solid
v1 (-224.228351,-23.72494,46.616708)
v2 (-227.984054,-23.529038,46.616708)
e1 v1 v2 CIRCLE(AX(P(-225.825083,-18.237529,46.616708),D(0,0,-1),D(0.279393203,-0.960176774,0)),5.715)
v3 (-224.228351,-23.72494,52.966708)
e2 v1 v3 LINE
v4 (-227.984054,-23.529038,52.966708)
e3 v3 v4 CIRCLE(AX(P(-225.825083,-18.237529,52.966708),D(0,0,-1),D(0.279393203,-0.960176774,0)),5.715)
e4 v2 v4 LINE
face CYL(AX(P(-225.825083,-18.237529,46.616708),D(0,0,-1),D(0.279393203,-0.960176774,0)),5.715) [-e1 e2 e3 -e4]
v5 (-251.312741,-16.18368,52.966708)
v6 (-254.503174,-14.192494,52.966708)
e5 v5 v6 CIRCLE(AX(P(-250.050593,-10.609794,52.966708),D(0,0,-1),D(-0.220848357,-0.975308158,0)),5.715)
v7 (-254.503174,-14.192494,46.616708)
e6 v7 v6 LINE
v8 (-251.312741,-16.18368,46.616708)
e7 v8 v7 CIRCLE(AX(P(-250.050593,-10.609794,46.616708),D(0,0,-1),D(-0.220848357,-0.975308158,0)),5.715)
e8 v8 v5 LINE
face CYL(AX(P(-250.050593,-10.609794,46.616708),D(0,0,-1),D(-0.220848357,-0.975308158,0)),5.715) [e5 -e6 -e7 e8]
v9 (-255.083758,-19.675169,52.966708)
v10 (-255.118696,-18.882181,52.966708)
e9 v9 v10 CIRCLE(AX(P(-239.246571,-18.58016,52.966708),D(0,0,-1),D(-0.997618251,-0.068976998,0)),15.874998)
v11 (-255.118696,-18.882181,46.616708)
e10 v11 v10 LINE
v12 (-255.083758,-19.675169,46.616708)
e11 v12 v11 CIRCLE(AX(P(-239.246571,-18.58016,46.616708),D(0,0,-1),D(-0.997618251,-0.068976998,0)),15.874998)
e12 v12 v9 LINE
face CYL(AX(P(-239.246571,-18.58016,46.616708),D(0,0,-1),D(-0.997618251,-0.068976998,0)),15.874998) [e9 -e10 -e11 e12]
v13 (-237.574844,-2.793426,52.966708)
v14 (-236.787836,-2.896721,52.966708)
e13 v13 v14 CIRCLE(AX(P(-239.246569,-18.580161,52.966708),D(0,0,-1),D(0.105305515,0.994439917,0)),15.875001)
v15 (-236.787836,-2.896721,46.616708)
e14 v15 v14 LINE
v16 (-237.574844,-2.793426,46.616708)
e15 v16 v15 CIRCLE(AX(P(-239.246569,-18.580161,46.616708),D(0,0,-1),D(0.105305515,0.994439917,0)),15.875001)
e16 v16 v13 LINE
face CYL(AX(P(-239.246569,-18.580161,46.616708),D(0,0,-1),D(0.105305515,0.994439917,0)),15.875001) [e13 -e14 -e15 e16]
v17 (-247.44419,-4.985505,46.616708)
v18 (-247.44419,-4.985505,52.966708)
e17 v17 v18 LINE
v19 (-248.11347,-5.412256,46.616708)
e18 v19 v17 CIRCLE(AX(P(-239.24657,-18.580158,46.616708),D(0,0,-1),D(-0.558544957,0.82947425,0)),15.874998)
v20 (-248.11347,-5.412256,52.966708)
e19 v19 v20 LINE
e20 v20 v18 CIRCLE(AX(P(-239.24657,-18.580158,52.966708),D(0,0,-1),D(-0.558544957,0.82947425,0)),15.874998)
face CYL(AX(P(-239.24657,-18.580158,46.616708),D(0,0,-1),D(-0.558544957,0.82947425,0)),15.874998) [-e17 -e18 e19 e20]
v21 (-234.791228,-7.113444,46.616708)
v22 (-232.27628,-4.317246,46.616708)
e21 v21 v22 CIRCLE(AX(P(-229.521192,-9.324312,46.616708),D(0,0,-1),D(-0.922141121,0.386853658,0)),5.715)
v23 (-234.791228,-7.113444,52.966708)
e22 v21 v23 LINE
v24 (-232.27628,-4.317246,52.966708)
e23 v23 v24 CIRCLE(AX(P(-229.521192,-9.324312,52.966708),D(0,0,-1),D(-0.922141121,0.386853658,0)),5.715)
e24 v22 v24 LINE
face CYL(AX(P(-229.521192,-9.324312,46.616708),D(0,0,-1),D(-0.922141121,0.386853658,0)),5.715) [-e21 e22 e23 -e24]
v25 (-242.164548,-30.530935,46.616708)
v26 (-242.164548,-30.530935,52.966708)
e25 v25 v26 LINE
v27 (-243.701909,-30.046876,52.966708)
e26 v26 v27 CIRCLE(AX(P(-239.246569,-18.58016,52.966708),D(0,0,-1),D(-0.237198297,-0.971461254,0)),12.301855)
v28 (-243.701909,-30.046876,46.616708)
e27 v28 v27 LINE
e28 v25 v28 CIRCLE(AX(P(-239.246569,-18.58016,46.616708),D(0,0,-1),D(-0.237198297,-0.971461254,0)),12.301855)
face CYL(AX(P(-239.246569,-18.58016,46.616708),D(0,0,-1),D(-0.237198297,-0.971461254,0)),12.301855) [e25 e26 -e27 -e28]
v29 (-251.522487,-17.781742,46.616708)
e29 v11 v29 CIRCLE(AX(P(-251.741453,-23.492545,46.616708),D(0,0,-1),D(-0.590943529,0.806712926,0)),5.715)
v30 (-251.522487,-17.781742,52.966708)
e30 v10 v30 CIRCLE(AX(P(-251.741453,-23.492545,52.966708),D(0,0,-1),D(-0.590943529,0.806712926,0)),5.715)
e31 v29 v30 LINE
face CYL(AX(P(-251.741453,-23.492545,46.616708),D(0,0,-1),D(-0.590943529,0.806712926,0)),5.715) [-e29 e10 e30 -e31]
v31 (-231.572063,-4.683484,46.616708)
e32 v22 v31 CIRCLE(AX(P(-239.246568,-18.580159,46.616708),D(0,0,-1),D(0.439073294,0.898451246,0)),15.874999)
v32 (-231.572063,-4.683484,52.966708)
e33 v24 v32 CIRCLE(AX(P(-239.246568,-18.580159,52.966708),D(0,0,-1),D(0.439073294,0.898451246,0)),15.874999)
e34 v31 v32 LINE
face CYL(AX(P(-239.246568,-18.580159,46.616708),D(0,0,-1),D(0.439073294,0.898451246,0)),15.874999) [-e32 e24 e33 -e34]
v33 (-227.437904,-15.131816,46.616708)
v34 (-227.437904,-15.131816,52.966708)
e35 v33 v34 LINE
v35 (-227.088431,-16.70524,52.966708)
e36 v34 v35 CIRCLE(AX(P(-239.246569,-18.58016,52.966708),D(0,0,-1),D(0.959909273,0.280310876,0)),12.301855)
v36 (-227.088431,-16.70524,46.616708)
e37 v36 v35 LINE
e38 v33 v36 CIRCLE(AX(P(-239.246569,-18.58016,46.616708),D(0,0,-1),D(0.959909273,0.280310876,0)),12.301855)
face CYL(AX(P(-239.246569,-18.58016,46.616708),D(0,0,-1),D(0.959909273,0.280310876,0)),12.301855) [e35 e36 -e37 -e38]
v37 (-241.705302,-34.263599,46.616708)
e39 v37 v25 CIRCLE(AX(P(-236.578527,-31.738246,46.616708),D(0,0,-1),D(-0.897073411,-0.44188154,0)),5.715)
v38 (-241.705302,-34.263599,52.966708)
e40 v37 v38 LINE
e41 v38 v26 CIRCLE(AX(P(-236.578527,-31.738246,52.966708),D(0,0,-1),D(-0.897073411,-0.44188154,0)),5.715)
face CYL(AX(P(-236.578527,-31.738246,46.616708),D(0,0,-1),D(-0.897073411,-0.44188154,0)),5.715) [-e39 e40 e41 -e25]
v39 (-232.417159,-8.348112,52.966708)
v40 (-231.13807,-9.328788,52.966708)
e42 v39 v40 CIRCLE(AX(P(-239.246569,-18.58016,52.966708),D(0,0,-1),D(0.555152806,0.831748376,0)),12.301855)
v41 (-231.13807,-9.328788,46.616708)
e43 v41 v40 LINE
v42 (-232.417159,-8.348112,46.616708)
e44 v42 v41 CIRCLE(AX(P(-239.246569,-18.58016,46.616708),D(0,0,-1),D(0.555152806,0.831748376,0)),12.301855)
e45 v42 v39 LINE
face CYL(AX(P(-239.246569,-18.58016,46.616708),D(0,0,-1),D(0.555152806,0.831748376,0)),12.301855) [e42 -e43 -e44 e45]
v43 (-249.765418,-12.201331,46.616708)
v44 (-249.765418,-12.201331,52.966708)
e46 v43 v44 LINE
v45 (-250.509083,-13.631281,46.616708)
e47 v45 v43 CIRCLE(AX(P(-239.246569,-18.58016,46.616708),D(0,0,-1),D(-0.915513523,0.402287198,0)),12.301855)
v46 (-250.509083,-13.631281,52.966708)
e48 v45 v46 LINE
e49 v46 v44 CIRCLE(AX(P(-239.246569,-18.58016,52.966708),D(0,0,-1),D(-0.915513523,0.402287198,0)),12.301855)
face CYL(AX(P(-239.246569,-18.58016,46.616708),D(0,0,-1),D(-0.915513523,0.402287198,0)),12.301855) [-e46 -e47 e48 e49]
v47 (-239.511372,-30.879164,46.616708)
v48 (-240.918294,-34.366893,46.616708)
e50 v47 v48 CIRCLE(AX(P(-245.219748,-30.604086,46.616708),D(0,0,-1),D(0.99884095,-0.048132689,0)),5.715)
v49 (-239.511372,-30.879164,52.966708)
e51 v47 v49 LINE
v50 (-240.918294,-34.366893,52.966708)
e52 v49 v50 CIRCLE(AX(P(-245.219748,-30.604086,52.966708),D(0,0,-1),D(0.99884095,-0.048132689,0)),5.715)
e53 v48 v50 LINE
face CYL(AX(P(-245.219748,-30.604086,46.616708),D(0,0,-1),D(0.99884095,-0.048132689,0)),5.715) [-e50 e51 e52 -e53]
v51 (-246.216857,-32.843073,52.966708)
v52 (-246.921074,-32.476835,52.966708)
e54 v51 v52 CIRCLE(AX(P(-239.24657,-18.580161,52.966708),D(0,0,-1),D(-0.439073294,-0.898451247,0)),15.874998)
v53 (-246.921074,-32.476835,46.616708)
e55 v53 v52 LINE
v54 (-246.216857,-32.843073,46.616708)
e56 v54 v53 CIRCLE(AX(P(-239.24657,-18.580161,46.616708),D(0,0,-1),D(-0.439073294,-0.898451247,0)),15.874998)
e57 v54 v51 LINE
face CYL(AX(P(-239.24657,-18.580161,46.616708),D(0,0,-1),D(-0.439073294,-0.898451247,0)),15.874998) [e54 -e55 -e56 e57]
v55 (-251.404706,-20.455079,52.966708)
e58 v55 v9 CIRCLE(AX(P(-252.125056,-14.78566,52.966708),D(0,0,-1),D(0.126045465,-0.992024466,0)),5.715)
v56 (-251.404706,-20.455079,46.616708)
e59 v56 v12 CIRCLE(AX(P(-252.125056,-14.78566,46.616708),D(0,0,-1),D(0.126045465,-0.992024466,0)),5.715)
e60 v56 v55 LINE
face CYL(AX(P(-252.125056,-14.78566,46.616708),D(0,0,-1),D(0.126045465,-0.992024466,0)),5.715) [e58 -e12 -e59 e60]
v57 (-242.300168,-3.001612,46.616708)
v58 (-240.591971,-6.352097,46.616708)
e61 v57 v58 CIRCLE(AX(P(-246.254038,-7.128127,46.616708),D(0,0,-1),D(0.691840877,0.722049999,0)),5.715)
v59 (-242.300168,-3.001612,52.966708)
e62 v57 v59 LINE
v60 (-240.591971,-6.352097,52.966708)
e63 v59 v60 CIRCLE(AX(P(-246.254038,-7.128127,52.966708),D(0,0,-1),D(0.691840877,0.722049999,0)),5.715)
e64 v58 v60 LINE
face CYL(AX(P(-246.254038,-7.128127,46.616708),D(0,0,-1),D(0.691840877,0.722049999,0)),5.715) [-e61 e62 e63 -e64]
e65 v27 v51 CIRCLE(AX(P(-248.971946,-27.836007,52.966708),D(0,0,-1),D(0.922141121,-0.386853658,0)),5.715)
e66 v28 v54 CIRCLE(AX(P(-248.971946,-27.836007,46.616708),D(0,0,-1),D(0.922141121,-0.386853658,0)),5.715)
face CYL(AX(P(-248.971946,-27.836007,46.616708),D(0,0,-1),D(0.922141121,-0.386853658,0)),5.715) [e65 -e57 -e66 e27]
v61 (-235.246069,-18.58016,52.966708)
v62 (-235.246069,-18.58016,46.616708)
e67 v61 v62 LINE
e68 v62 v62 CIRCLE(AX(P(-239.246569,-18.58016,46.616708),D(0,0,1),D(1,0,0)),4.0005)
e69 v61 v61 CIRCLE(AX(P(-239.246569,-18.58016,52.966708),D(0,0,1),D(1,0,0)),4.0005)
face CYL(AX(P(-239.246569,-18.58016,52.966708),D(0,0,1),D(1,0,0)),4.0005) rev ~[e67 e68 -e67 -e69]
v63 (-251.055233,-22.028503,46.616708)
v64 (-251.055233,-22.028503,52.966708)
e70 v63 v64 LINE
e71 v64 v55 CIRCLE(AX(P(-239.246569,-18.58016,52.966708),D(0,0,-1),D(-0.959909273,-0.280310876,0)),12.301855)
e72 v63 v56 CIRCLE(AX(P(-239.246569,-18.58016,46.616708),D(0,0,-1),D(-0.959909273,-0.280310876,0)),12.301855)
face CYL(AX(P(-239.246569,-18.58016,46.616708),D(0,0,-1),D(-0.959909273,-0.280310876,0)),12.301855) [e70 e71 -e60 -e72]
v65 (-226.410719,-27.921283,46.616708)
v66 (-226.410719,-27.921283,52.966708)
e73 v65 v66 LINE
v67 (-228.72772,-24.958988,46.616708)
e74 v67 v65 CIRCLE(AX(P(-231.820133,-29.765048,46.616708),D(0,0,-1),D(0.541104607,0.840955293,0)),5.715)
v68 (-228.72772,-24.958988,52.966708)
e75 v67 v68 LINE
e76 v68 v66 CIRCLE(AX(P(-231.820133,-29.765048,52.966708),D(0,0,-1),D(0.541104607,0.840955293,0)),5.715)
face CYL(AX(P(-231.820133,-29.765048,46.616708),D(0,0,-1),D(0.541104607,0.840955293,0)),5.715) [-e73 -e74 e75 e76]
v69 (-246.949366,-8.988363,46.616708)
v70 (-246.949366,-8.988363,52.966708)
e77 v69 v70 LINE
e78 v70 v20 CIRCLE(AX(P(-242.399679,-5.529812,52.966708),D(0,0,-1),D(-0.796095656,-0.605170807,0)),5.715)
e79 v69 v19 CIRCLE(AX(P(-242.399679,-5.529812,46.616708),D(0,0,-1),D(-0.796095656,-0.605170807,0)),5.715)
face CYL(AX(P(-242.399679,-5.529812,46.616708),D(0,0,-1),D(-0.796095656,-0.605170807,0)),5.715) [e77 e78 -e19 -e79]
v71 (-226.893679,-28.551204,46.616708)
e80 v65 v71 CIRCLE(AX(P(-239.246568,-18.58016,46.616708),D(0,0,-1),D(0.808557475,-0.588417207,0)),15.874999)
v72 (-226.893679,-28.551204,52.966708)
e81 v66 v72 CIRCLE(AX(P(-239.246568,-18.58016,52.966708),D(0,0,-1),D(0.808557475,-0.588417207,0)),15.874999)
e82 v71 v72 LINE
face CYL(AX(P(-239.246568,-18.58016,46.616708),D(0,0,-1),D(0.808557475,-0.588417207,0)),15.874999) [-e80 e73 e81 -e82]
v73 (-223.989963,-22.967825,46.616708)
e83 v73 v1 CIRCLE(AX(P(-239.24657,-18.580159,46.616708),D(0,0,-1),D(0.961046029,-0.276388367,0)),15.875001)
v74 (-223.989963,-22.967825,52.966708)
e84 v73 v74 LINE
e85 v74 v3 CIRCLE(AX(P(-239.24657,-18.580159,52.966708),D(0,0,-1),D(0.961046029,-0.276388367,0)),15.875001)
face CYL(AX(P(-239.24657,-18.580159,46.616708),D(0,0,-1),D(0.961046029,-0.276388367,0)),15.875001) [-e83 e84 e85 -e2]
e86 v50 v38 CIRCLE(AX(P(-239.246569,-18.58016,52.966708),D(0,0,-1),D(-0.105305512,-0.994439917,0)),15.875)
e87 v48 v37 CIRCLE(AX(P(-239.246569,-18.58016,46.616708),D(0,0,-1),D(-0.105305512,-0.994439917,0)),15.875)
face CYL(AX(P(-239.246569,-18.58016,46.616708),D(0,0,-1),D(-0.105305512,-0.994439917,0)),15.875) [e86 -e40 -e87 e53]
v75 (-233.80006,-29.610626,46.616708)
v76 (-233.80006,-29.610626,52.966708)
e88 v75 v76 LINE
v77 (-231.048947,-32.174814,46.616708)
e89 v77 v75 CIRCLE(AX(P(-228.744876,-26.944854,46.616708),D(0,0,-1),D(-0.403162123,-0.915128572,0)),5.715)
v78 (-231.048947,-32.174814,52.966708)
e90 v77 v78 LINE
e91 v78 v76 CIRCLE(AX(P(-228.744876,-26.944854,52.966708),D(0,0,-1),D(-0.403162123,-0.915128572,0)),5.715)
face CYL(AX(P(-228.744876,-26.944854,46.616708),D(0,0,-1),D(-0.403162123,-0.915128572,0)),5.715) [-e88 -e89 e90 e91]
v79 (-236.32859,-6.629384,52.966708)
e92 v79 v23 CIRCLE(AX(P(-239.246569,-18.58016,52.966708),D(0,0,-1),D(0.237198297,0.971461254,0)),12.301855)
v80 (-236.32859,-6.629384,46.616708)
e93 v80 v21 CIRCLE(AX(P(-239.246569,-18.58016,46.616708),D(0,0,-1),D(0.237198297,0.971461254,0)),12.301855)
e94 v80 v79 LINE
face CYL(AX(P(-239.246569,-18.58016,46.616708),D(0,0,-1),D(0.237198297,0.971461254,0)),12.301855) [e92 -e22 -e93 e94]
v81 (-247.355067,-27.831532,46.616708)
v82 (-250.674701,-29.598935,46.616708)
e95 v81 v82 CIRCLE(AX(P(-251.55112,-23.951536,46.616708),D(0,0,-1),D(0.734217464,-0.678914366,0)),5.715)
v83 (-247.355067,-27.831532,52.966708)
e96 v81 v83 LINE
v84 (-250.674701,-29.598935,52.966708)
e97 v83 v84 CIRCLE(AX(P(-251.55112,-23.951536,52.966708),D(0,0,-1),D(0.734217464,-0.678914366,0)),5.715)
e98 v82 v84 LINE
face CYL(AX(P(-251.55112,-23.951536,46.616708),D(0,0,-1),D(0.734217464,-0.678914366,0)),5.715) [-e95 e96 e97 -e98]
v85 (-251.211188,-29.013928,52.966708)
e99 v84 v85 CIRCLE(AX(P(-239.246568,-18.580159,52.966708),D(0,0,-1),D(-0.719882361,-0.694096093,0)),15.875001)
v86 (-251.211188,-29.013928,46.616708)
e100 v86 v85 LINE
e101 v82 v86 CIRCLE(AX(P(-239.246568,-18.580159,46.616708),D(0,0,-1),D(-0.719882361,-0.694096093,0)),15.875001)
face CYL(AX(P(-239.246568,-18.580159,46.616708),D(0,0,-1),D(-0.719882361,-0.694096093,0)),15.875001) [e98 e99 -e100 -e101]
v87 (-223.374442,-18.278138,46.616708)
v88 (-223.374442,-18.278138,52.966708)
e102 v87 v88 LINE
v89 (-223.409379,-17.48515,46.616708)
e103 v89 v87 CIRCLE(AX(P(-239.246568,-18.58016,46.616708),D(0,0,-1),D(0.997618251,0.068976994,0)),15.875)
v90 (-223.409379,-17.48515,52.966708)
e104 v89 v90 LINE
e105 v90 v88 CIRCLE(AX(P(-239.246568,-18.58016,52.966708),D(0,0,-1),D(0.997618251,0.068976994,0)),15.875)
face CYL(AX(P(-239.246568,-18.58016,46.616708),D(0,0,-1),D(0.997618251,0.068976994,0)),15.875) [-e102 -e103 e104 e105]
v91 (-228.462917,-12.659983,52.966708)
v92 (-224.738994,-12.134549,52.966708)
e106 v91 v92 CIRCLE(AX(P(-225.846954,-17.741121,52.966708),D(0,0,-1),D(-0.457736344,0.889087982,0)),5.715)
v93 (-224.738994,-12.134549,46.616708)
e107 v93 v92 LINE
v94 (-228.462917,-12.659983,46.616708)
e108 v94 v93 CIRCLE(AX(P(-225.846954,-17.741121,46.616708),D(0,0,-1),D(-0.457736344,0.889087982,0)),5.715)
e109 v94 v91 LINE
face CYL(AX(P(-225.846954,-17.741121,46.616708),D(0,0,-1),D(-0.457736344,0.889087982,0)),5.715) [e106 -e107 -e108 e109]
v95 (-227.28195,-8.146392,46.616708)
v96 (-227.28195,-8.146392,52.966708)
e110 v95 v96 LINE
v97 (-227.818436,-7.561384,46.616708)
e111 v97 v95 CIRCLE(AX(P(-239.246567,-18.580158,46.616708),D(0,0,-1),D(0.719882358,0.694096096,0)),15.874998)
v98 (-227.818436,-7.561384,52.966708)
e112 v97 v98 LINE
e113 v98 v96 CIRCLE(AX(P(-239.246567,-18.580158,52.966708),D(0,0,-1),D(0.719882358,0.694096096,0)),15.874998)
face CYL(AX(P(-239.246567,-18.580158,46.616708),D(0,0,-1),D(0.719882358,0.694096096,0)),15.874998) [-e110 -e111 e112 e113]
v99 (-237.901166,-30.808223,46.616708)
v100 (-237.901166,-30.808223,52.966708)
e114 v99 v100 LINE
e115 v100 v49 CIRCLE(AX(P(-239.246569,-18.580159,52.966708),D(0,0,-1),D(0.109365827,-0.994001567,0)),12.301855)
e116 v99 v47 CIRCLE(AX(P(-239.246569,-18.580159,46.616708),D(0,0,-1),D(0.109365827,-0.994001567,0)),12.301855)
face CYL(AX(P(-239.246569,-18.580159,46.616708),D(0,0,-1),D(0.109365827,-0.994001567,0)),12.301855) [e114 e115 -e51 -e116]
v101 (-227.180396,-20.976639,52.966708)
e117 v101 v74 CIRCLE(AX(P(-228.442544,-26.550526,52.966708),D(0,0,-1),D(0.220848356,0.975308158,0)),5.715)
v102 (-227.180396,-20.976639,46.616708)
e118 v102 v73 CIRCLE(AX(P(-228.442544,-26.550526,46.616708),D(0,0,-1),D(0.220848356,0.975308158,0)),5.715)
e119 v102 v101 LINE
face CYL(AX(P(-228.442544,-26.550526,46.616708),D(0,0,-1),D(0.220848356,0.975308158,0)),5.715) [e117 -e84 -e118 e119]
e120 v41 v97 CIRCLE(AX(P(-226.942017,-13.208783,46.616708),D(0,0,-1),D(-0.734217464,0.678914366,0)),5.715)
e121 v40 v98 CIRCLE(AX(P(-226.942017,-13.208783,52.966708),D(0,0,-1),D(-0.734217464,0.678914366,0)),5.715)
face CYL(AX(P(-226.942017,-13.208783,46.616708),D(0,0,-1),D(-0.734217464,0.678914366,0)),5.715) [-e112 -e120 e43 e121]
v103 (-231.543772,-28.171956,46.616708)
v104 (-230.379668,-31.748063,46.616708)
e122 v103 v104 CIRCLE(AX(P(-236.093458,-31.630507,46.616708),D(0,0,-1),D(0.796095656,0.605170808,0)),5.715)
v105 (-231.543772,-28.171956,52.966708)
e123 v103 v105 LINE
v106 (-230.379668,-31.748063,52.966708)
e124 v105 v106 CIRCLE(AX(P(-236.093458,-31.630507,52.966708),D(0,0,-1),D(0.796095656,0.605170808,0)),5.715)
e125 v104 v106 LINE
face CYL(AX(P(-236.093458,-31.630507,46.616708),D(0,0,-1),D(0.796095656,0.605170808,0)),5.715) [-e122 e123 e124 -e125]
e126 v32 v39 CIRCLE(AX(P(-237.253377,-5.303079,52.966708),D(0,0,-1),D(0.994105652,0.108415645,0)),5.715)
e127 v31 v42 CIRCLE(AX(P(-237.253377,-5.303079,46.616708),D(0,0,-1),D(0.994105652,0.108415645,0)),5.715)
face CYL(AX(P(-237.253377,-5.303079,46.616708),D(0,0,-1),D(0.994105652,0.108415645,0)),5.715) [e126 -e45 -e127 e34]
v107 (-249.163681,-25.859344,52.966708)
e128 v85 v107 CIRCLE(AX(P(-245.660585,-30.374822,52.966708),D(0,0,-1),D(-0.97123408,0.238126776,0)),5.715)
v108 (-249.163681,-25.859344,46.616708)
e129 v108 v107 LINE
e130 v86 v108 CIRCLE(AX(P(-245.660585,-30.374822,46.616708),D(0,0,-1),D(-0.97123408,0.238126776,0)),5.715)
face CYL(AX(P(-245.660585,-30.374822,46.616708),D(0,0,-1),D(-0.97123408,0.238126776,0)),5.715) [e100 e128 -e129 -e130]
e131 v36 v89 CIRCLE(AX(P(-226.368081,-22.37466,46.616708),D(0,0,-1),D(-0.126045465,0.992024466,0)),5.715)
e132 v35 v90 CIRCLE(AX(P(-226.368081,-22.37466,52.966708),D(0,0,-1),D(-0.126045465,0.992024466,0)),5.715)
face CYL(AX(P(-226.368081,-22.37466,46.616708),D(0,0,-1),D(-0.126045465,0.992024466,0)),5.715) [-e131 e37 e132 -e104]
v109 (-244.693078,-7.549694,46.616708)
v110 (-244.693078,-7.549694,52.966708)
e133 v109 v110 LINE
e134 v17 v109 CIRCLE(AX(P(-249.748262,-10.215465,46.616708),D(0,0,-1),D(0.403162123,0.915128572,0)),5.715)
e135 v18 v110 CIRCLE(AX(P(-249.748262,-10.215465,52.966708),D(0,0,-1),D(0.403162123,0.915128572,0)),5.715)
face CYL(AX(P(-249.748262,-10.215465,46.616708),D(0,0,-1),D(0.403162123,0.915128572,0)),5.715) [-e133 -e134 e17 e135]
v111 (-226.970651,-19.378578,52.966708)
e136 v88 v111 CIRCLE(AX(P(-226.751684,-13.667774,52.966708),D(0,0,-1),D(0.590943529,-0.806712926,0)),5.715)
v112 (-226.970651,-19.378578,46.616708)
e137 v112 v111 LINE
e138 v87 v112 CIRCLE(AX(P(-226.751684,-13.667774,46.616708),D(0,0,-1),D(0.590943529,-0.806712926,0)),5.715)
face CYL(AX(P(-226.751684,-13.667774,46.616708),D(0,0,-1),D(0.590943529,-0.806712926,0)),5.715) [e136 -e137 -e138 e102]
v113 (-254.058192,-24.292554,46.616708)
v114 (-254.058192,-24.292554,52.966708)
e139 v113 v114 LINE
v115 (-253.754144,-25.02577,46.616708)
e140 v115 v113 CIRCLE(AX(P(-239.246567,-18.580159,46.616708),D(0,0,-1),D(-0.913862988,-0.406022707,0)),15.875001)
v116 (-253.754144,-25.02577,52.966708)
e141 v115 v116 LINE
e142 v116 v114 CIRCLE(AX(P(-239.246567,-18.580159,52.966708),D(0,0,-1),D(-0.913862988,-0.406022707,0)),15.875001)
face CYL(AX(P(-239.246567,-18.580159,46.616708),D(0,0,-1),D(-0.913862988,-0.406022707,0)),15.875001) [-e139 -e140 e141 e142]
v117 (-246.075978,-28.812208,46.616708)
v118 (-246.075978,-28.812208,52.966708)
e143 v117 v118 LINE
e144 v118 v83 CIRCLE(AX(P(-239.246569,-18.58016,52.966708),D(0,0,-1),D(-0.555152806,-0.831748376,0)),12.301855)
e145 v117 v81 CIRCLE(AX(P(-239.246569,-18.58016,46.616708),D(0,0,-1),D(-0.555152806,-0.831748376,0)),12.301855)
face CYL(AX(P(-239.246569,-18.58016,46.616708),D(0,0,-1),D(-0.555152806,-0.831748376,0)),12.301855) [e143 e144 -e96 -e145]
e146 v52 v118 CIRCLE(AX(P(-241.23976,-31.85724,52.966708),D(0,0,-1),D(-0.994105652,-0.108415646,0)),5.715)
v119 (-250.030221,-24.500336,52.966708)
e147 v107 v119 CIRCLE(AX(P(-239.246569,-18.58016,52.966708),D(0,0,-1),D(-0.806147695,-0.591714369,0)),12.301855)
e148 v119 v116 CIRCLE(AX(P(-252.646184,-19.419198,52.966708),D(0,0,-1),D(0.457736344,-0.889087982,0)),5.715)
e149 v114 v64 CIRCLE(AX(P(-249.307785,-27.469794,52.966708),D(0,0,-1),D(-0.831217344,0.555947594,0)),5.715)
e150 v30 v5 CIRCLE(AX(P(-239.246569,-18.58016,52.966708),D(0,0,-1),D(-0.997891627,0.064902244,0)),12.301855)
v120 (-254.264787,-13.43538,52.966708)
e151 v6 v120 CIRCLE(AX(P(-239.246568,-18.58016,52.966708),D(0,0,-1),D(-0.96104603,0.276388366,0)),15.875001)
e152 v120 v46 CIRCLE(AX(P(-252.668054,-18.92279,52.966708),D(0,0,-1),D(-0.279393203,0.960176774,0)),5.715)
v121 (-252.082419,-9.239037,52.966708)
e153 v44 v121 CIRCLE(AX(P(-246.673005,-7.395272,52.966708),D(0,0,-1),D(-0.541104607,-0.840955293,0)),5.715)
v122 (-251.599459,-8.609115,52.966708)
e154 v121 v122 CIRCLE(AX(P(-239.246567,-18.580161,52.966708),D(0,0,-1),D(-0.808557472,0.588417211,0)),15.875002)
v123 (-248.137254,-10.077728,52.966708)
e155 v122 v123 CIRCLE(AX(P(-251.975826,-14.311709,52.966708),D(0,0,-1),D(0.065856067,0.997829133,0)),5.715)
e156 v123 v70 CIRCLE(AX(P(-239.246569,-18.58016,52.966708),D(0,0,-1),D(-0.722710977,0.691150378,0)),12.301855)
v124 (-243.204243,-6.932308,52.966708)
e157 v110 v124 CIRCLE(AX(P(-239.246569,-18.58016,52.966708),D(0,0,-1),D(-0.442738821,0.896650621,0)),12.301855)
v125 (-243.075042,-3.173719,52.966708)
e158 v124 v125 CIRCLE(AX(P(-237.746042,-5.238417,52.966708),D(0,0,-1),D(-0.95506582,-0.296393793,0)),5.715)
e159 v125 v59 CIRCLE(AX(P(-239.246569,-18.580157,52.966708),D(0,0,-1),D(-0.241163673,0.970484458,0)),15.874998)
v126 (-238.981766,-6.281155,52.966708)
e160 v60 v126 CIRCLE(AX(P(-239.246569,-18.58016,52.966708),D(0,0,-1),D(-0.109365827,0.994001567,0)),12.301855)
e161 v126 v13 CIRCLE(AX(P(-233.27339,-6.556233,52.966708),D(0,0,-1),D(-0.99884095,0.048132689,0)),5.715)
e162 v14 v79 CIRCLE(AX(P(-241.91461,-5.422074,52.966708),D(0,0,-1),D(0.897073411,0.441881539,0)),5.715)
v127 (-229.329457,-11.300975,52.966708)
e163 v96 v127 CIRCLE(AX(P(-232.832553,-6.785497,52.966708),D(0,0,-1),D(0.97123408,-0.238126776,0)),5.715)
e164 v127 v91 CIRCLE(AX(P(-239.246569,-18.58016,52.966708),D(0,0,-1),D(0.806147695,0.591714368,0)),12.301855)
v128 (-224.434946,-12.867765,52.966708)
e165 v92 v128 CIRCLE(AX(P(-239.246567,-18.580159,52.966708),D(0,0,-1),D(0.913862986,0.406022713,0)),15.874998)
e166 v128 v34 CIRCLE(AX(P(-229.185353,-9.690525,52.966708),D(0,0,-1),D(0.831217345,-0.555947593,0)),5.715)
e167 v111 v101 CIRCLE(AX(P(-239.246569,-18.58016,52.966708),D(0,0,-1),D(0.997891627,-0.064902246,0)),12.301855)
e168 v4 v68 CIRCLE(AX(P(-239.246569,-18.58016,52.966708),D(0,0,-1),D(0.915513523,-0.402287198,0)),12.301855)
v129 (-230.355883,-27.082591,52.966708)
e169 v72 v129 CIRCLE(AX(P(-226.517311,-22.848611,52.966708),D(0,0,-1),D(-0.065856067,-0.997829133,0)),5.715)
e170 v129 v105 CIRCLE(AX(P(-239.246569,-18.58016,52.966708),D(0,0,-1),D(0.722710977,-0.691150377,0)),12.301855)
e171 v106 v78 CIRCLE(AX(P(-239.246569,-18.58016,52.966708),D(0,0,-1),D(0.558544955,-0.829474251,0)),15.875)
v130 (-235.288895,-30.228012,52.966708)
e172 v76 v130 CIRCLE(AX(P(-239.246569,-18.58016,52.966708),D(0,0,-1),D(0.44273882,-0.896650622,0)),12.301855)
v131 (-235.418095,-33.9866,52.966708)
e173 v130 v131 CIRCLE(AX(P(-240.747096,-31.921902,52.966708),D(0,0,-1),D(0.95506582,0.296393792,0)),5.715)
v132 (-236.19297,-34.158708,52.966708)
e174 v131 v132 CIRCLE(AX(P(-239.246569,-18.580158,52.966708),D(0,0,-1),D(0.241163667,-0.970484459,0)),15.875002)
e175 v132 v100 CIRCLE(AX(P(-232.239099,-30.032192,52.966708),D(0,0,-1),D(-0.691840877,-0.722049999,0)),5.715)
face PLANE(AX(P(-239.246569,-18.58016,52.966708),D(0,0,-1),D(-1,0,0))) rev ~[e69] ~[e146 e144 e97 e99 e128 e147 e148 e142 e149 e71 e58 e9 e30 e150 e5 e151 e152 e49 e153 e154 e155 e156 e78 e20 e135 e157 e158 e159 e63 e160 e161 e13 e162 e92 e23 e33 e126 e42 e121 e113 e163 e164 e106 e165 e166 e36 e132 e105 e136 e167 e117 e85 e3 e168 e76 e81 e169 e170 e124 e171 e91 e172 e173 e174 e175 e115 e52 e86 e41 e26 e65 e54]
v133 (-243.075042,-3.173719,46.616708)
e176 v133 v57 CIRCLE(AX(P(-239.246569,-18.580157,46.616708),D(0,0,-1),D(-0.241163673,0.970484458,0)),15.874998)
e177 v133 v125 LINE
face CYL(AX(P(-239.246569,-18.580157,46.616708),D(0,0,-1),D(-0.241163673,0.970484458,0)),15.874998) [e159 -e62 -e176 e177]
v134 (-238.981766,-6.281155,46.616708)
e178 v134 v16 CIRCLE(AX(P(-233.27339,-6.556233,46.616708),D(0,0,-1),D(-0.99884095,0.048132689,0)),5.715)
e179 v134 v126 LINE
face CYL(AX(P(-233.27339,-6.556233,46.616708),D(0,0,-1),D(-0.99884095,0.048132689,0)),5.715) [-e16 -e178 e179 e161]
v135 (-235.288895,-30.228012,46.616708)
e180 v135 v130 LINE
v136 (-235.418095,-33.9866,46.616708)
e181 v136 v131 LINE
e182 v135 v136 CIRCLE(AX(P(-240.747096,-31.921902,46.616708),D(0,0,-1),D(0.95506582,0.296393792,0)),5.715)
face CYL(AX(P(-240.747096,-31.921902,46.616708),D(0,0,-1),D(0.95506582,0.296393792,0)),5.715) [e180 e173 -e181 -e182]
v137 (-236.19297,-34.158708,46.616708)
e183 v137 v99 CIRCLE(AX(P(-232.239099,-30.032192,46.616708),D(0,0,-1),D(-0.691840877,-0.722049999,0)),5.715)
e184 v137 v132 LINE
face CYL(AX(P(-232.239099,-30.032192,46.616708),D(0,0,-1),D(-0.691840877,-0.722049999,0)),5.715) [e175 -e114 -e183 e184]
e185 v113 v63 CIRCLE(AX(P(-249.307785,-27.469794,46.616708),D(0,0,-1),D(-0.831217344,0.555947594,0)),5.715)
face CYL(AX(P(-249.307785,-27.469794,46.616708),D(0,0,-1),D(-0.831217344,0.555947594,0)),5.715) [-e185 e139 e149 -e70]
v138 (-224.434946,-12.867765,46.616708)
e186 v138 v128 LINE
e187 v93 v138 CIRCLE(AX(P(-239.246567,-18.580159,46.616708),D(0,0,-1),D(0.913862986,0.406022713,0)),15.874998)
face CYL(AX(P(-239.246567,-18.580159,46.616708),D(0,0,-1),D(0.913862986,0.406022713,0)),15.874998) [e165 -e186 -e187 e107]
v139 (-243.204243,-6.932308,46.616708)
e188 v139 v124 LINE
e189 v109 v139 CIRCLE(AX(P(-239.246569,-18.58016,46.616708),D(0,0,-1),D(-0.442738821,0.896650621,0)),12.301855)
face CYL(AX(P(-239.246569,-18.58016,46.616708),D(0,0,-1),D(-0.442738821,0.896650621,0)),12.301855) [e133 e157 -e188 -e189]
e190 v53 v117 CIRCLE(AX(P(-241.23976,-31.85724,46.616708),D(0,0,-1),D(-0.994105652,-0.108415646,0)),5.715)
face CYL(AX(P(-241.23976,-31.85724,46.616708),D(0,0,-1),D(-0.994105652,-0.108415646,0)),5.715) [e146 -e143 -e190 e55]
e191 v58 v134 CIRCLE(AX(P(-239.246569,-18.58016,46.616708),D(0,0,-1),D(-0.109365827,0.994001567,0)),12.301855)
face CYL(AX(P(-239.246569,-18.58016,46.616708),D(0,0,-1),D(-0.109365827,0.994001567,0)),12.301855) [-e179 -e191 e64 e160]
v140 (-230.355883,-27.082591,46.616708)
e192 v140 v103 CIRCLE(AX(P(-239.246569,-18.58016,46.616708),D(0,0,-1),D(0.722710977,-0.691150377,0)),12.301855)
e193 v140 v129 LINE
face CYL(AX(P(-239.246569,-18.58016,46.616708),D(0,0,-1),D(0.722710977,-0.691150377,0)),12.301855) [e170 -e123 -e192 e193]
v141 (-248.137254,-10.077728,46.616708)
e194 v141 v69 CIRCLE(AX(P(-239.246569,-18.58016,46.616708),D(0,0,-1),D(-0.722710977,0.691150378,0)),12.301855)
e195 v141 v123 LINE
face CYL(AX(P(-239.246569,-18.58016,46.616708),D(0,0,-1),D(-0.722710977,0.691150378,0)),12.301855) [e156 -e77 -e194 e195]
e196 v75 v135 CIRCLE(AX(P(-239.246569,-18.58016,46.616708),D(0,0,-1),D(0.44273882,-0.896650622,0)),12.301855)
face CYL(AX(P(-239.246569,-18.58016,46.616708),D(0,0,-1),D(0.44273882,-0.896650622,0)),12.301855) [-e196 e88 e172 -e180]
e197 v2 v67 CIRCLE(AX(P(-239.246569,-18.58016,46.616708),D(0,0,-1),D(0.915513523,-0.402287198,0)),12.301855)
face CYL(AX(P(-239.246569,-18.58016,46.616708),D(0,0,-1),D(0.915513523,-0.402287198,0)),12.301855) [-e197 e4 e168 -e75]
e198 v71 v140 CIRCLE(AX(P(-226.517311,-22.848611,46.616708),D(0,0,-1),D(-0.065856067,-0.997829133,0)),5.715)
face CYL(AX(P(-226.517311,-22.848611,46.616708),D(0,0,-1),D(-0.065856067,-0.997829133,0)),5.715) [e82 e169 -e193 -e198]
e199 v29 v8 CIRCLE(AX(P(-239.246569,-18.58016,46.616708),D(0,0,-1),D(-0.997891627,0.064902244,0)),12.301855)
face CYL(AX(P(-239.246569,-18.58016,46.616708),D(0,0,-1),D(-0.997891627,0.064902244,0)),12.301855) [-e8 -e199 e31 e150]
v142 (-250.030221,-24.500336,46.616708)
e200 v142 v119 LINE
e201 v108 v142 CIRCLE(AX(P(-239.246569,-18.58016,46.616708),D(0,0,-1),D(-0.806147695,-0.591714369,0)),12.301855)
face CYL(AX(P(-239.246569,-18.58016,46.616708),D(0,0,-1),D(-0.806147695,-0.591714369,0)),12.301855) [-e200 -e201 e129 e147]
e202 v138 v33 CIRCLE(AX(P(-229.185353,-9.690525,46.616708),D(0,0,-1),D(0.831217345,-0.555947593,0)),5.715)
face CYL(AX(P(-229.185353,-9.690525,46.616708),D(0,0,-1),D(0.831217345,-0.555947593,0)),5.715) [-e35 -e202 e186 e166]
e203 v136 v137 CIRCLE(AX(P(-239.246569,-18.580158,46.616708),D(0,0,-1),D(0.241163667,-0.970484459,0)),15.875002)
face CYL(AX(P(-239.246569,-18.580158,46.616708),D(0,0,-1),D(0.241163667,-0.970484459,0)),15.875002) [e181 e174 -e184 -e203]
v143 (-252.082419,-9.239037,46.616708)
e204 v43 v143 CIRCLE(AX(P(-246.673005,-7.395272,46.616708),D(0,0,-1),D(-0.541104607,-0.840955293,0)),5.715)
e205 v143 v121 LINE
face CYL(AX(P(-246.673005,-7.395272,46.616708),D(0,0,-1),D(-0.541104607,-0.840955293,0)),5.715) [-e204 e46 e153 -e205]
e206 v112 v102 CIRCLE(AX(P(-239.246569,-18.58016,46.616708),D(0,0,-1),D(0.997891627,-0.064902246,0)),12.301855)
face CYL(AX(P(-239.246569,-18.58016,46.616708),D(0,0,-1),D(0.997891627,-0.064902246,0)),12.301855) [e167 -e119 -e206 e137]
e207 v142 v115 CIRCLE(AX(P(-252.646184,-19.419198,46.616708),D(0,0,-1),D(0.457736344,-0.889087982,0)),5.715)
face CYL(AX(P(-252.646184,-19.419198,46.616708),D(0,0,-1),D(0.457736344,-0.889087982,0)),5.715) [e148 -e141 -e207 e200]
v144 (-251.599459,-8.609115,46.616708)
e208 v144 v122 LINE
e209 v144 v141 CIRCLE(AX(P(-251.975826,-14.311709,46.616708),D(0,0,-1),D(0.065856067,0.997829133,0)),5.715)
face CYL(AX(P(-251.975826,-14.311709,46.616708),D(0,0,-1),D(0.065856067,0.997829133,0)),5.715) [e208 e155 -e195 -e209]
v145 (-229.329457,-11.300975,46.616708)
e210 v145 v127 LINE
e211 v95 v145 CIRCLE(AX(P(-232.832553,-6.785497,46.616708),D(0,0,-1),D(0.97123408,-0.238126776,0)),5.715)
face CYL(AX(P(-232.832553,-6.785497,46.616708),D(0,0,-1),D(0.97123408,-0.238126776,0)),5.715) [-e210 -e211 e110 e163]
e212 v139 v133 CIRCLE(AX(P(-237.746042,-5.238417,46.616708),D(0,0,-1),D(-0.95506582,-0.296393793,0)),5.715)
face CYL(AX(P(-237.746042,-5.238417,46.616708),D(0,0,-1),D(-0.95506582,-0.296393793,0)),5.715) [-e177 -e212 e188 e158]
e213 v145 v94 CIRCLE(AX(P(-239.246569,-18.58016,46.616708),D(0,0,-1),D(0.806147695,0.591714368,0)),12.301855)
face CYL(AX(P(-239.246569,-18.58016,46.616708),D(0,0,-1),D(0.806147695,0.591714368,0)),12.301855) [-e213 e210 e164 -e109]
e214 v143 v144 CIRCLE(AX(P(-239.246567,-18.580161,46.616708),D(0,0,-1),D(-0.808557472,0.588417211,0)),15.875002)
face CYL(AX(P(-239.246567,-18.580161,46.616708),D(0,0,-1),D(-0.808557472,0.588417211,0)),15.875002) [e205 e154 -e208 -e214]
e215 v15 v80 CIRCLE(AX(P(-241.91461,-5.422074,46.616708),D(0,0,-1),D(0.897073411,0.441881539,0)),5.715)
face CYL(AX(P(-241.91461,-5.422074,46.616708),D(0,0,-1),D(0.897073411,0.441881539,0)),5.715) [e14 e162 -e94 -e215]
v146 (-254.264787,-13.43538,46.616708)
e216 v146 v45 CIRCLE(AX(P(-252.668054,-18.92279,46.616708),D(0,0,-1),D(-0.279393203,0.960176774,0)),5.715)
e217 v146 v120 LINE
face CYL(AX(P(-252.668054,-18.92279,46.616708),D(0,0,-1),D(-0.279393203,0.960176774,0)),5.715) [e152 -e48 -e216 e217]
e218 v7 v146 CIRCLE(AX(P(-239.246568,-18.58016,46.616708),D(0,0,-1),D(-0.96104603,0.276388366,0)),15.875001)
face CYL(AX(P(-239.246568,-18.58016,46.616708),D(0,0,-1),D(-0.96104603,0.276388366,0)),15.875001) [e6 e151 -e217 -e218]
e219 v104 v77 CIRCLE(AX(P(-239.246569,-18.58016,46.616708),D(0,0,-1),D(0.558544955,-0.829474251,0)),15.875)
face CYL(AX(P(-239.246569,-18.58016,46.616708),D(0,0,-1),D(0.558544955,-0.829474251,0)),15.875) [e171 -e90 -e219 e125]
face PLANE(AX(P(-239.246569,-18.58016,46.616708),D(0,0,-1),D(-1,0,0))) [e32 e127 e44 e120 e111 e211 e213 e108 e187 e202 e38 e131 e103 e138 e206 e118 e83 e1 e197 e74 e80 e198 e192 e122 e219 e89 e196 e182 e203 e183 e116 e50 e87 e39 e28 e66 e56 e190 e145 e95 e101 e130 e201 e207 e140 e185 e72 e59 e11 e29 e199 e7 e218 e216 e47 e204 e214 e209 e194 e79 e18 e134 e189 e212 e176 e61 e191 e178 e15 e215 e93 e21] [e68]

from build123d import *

# Parameters (mm, degrees)
SKETCH5_R           = 0.396875
BOSS_EXTRUDE2_DEPTH = 6.35
SKETCH6_R           = 2.9972
CUT_EXTRUDE1_DEPTH  = 258.501368276
SKETCH7_R           = 4.0005
CUT_EXTRUDE2_DEPTH  = 258.501368276


with BuildPart() as part:
    # Sketch5 → Boss-Extrude2 (new body)
    with BuildSketch(Plane(origin=(0, 0, 46.616707813), x_dir=(-1, 0, 0), z_dir=(0, 0, -1))):
        with BuildLine():
            ThreePointArc((246.921074011, -32.476835359), (246.808601397, -30.573015348), (246.075978074, -28.812207638))
            ThreePointArc((246.075978074, -28.812207638), (246.731600791, -28.342840277), (247.355067366, -27.831531862))
            ThreePointArc((247.355067366, -27.831531862), (248.865338892, -28.996117901), (250.674701217, -29.598935203))
            ThreePointArc((250.674701217, -29.598935203), (250.946601365, -29.309785139), (251.211187708, -29.013927881))
            ThreePointArc((251.211187708, -29.013927881), (250.454353229, -27.263390165), (249.163680793, -25.859344087))
            ThreePointArc((249.163680793, -25.859344087), (249.61923153, -25.194046866), (250.030220693, -24.500335994))
            ThreePointArc((250.030220693, -24.500335994), (251.847723585, -25.078145617), (253.754143671, -25.025770226))
            ThreePointArc((253.754143671, -25.025770226), (253.910751087, -24.661062717), (254.058191779, -24.292553976))
            ThreePointArc((254.058191779, -24.292553976), (252.748280843, -22.906439239), (251.055233439, -22.028503472))
            ThreePointArc((251.055233439, -22.028503472), (251.255766054, -21.247521054), (251.404706445, -20.455079495))
            ThreePointArc((251.404706445, -20.455079495), (253.310223032, -20.376420334), (255.083758479, -19.675169494))
            ThreePointArc((255.083758479, -19.675169494), (255.106183999, -19.278893649), (255.118695516, -18.882181018))
            ThreePointArc((255.118695516, -18.882181018), (253.413702715, -18.027675153), (251.522486845, -17.781741707))
            ThreePointArc((251.522486845, -17.781741707), (251.443814146, -16.979272099), (251.312741357, -16.183679999))
            ThreePointArc((251.312741357, -16.183679999), (253.076438214, -15.45803951), (254.503174475, -14.192494423))
            ThreePointArc((254.503174475, -14.192494423), (254.388713248, -13.812446955), (254.264786518, -13.435379832))
            ThreePointArc((254.264786518, -13.435379832), (252.370359146, -13.215548859), (250.509083356, -13.631280938))
            ThreePointArc((250.509083356, -13.631280938), (250.16069443, -12.904113816), (249.765417774, -12.201331325))
            ThreePointArc((249.765417774, -12.201331325), (251.174567032, -10.91623246), (252.082418656, -9.23903654))
            ThreePointArc((252.082418656, -9.23903654), (251.844876396, -8.921056785), (251.599458811, -8.60911503))
            ThreePointArc((251.599458811, -8.60911503), (249.744092768, -9.050473808), (248.137254388, -10.077727986))
            ThreePointArc((248.137254388, -10.077727986), (247.561170083, -9.513570439), (246.949365757, -8.988363496))
            ThreePointArc((246.949365757, -8.988363496), (247.834003218, -7.298808145), (248.113469901, -5.412255973))
            ThreePointArc((248.113469901, -5.412255973), (247.781497711, -5.19469698), (247.444190253, -4.985505373))
            ThreePointArc((247.444190253, -4.985505373), (245.851670066, -6.03481952), (244.69307752, -7.549693784))
            ThreePointArc((244.69307752, -7.549693784), (243.958782103, -7.216591536), (243.204242739, -6.932307851))
            ThreePointArc((243.204242739, -6.932307851), (243.457668071, -5.042081324), (243.075042005, -3.173718934))
            ThreePointArc((243.075042005, -3.173718934), (242.688680631, -3.08282153), (242.300167558, -3.001611666))
            ThreePointArc((242.300167558, -3.001611666), (241.162574665, -4.532318409), (240.591971311, -6.352096565))
            ThreePointArc((240.591971311, -6.352096565), (239.788031649, -6.290226665), (238.981765829, -6.281155045))
            ThreePointArc((238.981765829, -6.281155045), (238.573412195, -4.418246557), (237.574843733, -2.793426028))
            ThreePointArc((237.574843733, -2.793426028), (237.180694057, -2.840153782), (236.78783578, -2.896720768))
            ThreePointArc((236.78783578, -2.896720768), (236.242380673, -4.724194283), (236.328589698, -6.629384229))
            ThreePointArc((236.328589698, -6.629384229), (235.551972777, -6.846209099), (234.79122806, -7.113443716))
            ThreePointArc((234.79122806, -7.113443716), (233.770348935, -5.502547525), (232.27628017, -4.317246193))
            ThreePointArc((232.27628017, -4.317246193), (231.921882461, -4.495963046), (231.572063485, -4.68348407))
            ThreePointArc((231.572063485, -4.68348407), (231.6845361, -6.587304081), (232.417159423, -8.348111791))
            ThreePointArc((232.417159423, -8.348111791), (231.761536706, -8.817479152), (231.138070131, -9.328787567))
            ThreePointArc((231.138070131, -9.328787567), (229.627798605, -8.164201528), (227.818436279, -7.561384226))
            ThreePointArc((227.818436279, -7.561384226), (227.546536131, -7.850534289), (227.281949789, -8.146391548))
            ThreePointArc((227.281949789, -8.146391548), (228.038784268, -9.896929264), (229.329456703, -11.300975342))
            ThreePointArc((229.329456703, -11.300975342), (228.873905967, -11.966272563), (228.462916804, -12.659983435))
            ThreePointArc((228.462916804, -12.659983435), (226.645413911, -12.082173811), (224.738993826, -12.134549203))
            ThreePointArc((224.738993826, -12.134549203), (224.582386409, -12.499256711), (224.434945718, -12.867765452))
            ThreePointArc((224.434945718, -12.867765452), (225.744856653, -14.25388019), (227.437904058, -15.131815957))
            ThreePointArc((227.437904058, -15.131815957), (227.237371443, -15.912798374), (227.088431051, -16.705239934))
            ThreePointArc((227.088431051, -16.705239934), (225.182914465, -16.783899095), (223.409379017, -17.485149934))
            ThreePointArc((223.409379017, -17.485149934), (223.386953498, -17.88142578), (223.374441981, -18.278138411))
            ThreePointArc((223.374441981, -18.278138411), (225.079434782, -19.132644276), (226.970650651, -19.378577722))
            ThreePointArc((226.970650651, -19.378577722), (227.049323351, -20.18104733), (227.18039614, -20.97663943))
            ThreePointArc((227.18039614, -20.97663943), (225.416699282, -21.702279919), (223.989963022, -22.967825006))
            ThreePointArc((223.989963022, -22.967825006), (224.104424249, -23.347872473), (224.228350979, -23.724939596))
            ThreePointArc((224.228350979, -23.724939596), (226.122778351, -23.944770569), (227.98405414, -23.529038491))
            ThreePointArc((227.98405414, -23.529038491), (228.332443066, -24.256205612), (228.727719723, -24.958988104))
            ThreePointArc((228.727719723, -24.958988104), (227.318570464, -26.244086969), (226.410718841, -27.921282889))
            ThreePointArc((226.410718841, -27.921282889), (226.6482611, -28.239262644), (226.893678686, -28.551204399))
            ThreePointArc((226.893678686, -28.551204399), (228.749044729, -28.109845621), (230.355883108, -27.082591442))
            ThreePointArc((230.355883108, -27.082591442), (230.931967414, -27.64674899), (231.54377174, -28.171955932))
            ThreePointArc((231.54377174, -28.171955932), (230.659134278, -29.861511284), (230.379667596, -31.748063456))
            ThreePointArc((230.379667596, -31.748063456), (230.711639785, -31.965622448), (231.048947243, -32.174814056))
            ThreePointArc((231.048947243, -32.174814056), (232.64146743, -31.125499909), (233.800059977, -29.610625645))
            ThreePointArc((233.800059977, -29.610625645), (234.534355393, -29.943727892), (235.288894757, -30.228011577))
            ThreePointArc((235.288894757, -30.228011577), (235.035469426, -32.118238105), (235.418095491, -33.986600495))
            ThreePointArc((235.418095491, -33.986600495), (235.804456866, -34.077497898), (236.192969938, -34.158707763))
            ThreePointArc((236.192969938, -34.158707763), (237.330562832, -32.62800102), (237.901166185, -30.808222864))
            ThreePointArc((237.901166185, -30.808222864), (238.705105848, -30.870092764), (239.511371667, -30.879164384))
            ThreePointArc((239.511371667, -30.879164384), (239.919725301, -32.742072872), (240.918293764, -34.3668934))
            ThreePointArc((240.918293764, -34.3668934), (241.312443439, -34.320165647), (241.705301716, -34.263598661))
            ThreePointArc((241.705301716, -34.263598661), (242.250756824, -32.436125145), (242.164547799, -30.5309352))
            ThreePointArc((242.164547799, -30.5309352), (242.94116472, -30.31411033), (243.701909437, -30.046875713))
            ThreePointArc((243.701909437, -30.046875713), (244.722788562, -31.657771904), (246.216857327, -32.843073236))
            ThreePointArc((246.216857327, -32.843073236), (246.571255036, -32.664356383), (246.921074011, -32.476835359))
        make_face()
        with Locations((239.246568748, -18.580159714)):
            Circle(SKETCH5_R, mode=Mode.SUBTRACT)
    extrude(amount=-BOSS_EXTRUDE2_DEPTH)

    # Sketch6 → Cut-Extrude1 (cut, through all)
    with BuildSketch(Plane.XY.offset(52.966707813)):
        with Locations((-239.246568748, -18.580159714)):
            Circle(SKETCH6_R)
    extrude(amount=-CUT_EXTRUDE1_DEPTH, mode=Mode.SUBTRACT)

    # Sketch7 → Cut-Extrude2 (cut, through all)
    with BuildSketch(Plane.XY.offset(52.966707813)):
        with Locations((-239.246568748, -18.580159714)):
            Circle(SKETCH7_R)
    extrude(amount=-CUT_EXTRUDE2_DEPTH, mode=Mode.SUBTRACT)


solid = part.part
